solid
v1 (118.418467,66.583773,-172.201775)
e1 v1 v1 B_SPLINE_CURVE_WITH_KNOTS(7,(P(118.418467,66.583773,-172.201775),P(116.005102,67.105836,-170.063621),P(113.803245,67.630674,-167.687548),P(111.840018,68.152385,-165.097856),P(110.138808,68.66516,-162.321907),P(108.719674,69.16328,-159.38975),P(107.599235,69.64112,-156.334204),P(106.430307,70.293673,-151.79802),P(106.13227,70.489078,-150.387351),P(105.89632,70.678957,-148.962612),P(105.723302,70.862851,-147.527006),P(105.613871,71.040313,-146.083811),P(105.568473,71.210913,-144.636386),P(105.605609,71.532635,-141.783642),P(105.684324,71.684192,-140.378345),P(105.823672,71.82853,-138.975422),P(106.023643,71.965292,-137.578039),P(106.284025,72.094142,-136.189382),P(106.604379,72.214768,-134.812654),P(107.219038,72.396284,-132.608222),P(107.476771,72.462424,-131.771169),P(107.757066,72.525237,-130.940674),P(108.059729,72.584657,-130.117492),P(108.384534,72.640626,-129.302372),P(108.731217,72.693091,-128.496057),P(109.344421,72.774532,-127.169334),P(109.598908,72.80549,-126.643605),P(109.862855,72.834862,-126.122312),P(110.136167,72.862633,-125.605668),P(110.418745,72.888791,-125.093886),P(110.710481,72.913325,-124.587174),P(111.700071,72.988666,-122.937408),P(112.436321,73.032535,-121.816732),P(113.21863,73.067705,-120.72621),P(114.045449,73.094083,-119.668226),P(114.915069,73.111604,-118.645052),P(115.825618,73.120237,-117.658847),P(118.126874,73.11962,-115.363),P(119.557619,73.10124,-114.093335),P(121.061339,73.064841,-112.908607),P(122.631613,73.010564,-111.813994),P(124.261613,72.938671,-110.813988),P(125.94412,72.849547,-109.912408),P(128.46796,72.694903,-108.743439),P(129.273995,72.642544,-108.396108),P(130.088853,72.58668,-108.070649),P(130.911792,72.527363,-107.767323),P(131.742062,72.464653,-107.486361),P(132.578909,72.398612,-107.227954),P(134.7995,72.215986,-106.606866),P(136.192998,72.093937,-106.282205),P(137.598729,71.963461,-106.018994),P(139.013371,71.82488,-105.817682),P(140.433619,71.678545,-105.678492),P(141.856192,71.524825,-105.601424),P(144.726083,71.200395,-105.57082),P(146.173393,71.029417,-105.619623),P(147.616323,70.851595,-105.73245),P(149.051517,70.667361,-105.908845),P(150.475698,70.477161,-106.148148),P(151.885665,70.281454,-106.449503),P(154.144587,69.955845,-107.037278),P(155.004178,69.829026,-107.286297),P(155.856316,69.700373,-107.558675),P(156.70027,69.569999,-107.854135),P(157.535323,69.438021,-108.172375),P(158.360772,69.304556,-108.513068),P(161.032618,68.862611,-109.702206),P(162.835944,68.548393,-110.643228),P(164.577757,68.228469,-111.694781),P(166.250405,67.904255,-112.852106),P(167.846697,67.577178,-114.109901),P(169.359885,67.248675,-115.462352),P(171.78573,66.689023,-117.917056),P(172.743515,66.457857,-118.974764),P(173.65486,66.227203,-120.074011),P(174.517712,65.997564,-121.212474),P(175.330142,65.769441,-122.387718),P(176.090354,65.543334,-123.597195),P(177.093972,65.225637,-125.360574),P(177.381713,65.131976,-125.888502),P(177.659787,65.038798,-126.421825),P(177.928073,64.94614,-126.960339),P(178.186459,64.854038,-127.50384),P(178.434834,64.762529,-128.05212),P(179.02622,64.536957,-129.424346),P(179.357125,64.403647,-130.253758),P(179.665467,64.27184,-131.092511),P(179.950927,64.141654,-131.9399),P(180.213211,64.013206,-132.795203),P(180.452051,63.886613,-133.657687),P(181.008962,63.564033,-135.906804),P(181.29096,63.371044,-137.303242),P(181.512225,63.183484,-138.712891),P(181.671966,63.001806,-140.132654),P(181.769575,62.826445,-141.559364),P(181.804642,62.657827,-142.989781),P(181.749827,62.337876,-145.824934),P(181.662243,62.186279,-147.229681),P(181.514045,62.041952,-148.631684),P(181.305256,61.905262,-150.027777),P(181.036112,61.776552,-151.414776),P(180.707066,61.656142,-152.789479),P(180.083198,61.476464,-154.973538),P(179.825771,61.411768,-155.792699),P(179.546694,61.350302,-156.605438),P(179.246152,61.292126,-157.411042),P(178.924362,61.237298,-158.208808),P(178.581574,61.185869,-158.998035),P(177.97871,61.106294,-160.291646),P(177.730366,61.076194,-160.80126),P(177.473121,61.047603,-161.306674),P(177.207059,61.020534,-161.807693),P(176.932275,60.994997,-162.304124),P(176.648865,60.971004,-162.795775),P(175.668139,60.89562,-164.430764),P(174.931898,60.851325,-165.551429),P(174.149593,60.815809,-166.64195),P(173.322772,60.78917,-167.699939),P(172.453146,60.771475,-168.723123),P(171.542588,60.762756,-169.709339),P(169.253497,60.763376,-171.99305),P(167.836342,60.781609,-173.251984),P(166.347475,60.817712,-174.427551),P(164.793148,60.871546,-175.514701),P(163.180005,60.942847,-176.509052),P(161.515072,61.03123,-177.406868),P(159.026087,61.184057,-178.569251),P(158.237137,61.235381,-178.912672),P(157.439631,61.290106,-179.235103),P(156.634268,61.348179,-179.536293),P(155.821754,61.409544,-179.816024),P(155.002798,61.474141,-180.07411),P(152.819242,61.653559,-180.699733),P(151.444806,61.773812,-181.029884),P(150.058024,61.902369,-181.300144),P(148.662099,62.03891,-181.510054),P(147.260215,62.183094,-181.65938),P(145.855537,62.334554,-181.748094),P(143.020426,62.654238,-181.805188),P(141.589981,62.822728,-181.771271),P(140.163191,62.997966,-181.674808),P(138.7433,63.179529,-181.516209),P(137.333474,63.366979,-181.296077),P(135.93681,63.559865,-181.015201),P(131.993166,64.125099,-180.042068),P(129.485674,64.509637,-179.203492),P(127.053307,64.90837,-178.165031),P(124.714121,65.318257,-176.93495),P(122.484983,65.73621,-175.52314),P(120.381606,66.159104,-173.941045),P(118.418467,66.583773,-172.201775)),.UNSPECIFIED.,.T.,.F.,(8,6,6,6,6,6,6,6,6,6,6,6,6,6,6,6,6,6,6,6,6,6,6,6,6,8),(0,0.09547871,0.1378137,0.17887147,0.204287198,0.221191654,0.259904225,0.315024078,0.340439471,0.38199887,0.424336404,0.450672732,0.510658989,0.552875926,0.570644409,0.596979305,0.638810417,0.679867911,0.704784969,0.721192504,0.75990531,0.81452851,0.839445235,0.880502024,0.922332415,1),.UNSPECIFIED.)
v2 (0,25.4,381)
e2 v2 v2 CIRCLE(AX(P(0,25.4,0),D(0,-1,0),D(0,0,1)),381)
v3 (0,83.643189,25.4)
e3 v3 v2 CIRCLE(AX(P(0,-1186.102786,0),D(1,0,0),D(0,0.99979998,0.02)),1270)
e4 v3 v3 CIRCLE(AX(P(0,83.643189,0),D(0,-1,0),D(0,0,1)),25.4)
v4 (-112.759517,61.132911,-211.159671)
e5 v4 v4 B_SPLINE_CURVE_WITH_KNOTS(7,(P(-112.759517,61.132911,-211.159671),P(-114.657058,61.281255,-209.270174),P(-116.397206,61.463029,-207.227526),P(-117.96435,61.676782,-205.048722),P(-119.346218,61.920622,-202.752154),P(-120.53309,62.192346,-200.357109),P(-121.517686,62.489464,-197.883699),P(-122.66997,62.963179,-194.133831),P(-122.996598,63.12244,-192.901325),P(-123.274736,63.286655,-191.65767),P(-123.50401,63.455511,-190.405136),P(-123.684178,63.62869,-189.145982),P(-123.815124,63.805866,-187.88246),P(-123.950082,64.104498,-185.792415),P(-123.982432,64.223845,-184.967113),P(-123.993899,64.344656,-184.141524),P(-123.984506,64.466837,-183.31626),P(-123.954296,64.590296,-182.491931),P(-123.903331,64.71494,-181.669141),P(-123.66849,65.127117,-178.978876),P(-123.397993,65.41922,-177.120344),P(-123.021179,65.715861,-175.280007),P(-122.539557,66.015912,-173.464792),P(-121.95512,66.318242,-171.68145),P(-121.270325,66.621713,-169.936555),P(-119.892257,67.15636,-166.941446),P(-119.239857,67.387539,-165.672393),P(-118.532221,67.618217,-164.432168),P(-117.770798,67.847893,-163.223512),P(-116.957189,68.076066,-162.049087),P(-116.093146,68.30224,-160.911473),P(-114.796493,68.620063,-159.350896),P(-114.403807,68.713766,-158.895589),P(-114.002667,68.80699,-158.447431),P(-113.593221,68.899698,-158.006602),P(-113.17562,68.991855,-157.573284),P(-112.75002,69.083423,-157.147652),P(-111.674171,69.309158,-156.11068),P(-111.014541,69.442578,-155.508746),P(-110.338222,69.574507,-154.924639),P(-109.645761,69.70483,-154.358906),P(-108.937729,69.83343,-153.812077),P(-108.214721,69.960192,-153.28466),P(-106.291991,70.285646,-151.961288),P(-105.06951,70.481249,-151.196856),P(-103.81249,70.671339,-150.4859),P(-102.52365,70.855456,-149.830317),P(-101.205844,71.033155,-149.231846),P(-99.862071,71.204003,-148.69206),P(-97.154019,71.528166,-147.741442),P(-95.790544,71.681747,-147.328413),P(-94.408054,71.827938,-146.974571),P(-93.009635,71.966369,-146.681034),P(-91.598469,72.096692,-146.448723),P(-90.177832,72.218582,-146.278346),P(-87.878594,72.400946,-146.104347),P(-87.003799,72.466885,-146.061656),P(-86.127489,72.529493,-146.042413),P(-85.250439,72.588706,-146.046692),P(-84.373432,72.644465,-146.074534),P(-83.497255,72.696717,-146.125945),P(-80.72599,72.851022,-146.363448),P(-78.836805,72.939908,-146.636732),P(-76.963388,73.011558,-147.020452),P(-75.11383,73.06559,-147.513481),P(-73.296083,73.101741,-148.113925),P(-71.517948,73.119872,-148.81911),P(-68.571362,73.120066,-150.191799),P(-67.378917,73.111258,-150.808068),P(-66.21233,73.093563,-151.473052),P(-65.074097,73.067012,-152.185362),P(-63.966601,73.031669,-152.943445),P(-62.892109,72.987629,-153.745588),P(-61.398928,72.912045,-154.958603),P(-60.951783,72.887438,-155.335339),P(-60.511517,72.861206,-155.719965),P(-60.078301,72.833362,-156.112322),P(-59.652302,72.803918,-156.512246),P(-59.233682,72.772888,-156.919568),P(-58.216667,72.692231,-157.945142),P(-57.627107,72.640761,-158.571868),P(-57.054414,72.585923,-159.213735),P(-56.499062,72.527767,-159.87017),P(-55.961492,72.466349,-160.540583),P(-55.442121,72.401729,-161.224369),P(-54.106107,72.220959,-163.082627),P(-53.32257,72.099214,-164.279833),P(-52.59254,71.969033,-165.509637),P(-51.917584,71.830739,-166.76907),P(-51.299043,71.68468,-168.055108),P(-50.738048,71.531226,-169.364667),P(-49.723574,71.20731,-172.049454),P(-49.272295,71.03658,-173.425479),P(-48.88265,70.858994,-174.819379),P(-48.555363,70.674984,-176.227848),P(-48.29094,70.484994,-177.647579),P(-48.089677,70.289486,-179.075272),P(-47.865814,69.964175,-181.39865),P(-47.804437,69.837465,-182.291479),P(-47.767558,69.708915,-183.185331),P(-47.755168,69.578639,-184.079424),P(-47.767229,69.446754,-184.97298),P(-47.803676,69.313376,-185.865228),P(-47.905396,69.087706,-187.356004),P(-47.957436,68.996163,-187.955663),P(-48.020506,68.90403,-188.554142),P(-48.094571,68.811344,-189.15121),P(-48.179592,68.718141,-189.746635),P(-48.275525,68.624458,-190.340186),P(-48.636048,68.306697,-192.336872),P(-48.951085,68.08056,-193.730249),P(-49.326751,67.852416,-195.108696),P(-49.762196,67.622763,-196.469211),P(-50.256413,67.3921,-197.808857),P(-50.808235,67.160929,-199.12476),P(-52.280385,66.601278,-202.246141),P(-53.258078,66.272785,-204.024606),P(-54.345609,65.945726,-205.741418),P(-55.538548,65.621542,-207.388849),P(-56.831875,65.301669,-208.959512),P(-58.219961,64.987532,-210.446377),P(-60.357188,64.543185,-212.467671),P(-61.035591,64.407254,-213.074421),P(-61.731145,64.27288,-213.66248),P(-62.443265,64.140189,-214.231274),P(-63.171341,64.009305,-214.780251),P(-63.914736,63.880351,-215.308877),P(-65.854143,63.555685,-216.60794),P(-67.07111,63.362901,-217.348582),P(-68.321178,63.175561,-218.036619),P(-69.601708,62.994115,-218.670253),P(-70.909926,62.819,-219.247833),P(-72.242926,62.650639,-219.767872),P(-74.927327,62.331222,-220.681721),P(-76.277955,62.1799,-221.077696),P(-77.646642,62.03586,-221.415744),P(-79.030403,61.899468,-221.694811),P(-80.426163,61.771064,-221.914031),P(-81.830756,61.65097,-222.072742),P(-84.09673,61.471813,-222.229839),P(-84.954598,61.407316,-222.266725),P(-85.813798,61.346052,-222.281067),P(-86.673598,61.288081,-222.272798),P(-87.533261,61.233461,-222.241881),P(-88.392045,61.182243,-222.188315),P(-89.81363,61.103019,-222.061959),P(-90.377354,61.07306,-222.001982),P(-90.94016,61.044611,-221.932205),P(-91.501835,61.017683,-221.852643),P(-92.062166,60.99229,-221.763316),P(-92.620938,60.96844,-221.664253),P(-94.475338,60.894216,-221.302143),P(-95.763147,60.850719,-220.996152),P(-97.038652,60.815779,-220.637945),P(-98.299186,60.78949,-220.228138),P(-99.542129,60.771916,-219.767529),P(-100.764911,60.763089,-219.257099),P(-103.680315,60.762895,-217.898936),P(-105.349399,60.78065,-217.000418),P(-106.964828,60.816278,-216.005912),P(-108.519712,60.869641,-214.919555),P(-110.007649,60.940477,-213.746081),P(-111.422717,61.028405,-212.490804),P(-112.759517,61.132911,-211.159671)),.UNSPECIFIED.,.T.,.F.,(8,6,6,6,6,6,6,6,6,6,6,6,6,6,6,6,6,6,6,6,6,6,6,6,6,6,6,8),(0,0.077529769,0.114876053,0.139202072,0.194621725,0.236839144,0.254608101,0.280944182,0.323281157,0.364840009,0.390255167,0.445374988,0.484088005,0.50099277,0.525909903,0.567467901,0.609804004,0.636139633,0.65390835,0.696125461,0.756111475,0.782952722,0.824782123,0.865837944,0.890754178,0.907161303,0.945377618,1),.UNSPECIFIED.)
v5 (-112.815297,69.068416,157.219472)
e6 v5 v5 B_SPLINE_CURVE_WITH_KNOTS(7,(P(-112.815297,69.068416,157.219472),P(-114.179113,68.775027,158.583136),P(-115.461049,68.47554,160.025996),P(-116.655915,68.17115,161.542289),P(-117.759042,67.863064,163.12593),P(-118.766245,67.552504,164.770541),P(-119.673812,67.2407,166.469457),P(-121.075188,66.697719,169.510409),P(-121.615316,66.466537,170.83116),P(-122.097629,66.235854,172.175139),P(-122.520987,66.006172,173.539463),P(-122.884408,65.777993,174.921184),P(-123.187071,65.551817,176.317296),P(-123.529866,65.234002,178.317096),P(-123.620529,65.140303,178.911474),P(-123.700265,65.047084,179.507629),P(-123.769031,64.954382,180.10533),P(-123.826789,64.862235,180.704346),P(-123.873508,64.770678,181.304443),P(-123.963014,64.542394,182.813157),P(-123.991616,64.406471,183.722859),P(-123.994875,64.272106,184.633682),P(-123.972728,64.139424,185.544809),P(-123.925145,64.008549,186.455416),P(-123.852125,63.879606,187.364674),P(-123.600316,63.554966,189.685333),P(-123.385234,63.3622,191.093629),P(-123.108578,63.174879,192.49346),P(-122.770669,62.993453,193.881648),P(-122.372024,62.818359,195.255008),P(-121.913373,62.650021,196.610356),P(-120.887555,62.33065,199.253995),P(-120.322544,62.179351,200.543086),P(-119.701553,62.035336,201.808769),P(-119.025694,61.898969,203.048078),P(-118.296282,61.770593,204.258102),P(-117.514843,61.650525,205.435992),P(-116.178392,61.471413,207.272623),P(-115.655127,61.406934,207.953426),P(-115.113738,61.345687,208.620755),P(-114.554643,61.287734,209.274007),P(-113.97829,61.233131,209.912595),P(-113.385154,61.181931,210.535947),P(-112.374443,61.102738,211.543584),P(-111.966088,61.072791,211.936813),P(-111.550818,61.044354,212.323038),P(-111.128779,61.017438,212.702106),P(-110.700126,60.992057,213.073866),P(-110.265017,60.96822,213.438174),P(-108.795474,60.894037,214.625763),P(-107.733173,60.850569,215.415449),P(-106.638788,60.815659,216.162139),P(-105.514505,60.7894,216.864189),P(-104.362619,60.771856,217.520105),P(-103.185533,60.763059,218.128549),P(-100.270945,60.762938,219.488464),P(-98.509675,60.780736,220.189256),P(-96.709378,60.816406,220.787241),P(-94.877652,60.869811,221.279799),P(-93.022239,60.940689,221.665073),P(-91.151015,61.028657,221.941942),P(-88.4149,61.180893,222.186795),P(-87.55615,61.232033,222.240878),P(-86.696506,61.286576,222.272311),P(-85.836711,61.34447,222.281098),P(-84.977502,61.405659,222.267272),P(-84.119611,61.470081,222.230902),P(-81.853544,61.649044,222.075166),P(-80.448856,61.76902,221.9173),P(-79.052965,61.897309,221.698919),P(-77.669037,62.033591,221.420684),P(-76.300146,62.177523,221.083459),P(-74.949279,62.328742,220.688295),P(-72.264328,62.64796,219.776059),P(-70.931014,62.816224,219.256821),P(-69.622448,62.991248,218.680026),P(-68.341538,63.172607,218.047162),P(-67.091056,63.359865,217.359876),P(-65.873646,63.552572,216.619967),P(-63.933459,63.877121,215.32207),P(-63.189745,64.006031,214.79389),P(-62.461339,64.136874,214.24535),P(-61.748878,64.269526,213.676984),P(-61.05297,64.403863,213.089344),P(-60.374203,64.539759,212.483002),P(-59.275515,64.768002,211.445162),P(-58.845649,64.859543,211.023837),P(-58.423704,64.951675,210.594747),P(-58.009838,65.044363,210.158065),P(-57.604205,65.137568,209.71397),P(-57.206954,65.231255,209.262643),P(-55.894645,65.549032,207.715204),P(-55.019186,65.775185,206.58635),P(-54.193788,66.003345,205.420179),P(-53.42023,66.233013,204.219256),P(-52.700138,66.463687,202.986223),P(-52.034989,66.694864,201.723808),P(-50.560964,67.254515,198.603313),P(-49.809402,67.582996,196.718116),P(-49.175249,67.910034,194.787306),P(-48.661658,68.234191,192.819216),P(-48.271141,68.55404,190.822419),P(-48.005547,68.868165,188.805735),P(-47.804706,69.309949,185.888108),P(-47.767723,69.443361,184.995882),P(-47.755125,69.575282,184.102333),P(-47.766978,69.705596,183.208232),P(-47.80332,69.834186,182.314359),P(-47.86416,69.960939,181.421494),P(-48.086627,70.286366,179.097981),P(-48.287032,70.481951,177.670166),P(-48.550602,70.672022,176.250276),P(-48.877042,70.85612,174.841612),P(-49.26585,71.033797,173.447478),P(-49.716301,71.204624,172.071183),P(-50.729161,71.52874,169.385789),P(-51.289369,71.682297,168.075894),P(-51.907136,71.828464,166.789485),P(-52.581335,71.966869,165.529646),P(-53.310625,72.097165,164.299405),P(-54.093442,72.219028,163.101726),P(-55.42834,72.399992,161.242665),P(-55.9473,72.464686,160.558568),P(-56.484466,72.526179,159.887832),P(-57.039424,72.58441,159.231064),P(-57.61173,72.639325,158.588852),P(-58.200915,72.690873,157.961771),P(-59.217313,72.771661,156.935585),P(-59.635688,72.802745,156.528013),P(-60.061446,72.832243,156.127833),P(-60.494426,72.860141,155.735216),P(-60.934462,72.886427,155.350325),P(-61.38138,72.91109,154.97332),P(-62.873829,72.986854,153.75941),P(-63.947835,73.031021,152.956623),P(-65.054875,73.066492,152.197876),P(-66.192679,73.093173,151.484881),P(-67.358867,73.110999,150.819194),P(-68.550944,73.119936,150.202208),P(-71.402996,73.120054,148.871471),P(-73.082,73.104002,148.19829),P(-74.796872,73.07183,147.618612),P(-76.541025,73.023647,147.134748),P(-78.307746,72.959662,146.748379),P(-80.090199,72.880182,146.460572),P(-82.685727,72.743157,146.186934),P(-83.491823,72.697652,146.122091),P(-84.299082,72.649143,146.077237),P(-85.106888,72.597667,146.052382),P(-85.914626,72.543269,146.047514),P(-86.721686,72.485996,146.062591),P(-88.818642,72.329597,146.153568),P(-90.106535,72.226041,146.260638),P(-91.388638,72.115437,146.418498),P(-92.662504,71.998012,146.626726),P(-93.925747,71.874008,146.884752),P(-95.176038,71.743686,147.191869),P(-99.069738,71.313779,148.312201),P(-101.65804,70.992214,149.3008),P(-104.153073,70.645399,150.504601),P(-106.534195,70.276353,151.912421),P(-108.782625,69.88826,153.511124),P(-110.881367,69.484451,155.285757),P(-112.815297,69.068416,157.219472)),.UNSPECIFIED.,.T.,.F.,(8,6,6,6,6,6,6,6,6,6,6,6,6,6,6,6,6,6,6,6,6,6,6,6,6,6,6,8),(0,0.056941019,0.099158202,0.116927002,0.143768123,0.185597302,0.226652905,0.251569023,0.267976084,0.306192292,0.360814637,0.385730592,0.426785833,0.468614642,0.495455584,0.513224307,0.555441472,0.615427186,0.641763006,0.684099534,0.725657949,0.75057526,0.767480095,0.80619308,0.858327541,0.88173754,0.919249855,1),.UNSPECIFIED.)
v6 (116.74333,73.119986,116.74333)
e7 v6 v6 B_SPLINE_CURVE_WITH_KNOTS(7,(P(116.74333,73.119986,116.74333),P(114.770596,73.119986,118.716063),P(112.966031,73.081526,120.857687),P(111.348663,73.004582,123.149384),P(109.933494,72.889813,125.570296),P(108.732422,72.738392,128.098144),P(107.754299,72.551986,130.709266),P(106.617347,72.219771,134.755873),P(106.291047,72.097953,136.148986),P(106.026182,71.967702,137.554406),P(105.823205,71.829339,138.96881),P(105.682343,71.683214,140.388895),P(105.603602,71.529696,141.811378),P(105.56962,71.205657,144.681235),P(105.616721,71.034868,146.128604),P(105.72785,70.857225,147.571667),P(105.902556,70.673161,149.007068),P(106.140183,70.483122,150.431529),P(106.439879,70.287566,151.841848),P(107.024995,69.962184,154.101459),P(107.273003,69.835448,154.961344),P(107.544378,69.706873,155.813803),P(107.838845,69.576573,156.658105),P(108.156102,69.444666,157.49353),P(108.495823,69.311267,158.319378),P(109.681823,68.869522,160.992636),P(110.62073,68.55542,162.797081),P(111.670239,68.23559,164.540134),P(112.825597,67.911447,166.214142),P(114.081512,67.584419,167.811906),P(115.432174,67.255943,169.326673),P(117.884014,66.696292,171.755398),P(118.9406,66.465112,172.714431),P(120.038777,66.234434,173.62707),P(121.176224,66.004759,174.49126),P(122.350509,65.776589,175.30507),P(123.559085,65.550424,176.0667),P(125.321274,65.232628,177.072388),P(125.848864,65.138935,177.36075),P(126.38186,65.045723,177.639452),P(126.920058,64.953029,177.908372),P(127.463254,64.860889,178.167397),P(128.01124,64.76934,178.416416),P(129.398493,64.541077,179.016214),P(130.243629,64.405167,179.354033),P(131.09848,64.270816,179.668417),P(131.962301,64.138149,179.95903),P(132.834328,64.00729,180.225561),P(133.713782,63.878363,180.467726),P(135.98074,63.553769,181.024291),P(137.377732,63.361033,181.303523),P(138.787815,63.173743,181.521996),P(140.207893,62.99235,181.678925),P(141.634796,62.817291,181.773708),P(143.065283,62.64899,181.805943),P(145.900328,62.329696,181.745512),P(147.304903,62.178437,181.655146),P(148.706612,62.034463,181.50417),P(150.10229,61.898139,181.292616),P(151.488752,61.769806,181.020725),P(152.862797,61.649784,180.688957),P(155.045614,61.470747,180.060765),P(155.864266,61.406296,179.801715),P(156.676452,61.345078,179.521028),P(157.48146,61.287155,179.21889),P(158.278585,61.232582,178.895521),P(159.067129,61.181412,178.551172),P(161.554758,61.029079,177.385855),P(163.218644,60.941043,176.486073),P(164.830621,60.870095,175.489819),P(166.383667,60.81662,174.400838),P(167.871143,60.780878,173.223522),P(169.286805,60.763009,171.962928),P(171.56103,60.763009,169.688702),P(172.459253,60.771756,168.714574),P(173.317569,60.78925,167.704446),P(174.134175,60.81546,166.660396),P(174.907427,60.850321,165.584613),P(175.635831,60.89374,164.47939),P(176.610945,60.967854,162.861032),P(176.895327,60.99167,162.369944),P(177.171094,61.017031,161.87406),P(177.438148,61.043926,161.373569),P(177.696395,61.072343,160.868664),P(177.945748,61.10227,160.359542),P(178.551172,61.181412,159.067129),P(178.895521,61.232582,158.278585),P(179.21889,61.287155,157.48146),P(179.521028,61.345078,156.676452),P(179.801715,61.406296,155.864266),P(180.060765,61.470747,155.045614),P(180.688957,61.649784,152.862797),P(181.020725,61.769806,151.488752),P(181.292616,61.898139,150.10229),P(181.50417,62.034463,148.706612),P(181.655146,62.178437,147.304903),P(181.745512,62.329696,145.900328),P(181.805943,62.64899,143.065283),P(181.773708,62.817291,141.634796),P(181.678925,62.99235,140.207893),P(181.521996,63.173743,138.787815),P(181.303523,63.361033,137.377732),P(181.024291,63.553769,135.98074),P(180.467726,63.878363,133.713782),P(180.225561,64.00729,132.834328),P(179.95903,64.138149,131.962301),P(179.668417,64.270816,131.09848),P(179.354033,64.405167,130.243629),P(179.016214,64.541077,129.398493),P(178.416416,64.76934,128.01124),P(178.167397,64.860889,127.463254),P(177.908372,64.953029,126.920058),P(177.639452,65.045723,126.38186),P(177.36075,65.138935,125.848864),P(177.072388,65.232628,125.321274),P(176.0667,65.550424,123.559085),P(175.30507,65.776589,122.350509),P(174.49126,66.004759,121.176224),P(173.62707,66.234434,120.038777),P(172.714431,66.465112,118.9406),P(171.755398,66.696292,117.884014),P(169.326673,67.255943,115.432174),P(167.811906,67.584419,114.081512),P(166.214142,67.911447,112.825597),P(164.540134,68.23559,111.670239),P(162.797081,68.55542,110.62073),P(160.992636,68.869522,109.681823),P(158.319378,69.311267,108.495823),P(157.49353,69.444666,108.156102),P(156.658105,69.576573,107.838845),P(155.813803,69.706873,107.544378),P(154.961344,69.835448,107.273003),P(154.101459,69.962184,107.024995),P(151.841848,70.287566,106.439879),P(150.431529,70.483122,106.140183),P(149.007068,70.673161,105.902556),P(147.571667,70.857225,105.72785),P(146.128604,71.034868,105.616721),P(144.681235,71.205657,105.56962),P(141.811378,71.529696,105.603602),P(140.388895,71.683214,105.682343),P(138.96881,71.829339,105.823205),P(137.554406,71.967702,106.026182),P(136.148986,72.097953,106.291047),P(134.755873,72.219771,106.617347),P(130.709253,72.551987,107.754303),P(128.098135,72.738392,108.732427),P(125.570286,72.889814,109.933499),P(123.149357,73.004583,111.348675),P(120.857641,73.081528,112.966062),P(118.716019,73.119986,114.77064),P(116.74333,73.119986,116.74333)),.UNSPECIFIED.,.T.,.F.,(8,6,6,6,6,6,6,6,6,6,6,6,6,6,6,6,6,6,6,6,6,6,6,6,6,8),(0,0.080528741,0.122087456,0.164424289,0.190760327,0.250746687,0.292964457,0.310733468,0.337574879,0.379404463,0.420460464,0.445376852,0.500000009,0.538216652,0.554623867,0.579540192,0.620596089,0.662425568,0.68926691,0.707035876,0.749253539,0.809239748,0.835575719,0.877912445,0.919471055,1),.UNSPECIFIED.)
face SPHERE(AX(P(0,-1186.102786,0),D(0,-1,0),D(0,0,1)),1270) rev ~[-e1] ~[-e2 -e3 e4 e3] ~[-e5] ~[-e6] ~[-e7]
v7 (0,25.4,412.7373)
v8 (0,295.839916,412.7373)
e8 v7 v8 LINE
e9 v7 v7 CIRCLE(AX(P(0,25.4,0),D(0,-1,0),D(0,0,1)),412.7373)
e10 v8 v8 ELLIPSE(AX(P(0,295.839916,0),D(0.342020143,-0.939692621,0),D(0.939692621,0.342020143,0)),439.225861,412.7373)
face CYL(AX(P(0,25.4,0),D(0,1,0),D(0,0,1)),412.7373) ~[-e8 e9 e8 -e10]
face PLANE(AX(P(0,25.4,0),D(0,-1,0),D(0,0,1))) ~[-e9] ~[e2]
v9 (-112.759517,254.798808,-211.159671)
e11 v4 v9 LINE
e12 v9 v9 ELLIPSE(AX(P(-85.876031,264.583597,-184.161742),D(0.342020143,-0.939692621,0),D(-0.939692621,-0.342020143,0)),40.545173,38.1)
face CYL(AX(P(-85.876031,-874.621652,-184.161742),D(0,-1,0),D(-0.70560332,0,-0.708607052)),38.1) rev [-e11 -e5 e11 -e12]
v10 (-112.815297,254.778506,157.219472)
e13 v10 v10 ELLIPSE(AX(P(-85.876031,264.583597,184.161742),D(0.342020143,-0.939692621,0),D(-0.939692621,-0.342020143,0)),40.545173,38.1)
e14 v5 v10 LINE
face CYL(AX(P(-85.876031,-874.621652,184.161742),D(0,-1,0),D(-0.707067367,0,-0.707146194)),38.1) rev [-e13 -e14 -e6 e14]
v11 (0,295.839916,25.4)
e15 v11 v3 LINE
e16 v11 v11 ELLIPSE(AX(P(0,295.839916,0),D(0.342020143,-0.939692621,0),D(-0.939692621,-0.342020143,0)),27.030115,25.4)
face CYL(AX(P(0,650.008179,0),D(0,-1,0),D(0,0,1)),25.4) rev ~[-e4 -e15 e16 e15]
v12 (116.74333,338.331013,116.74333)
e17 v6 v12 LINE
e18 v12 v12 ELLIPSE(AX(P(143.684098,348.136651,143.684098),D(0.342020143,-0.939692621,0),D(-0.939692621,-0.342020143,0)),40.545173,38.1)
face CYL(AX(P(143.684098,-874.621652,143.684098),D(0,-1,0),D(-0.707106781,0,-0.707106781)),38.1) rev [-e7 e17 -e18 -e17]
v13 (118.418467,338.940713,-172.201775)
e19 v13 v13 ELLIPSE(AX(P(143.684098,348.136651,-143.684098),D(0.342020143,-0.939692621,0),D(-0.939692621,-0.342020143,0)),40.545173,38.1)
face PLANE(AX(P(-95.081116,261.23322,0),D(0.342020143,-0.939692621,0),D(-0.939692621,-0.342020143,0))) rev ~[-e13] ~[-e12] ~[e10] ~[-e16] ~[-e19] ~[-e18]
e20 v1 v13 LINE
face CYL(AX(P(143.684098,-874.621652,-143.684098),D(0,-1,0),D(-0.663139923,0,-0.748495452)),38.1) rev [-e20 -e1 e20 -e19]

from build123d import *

# Parameters (mm, degrees)
CUT_EXTRUDE1_DEPTH      = 874.621652083
CUT_EXTRUDE1_DEPTH_BACK = 874.621652083
SKETCH6_R               = 38.1
SKETCH9_W               = 1605.930086896
SKETCH9_H               = 1331.723127606
CUT_EXTRUDE8_DEPTH      = 762.168569892


with BuildPart() as part:
    # Sketch4 → Revolve3 (revolve)
    with BuildSketch(Plane.XY):
        with BuildLine():
            Line((25.4, 650.00817936), (25.4, 83.643188795))
            ThreePointArc((25.4, 83.643188795), (205.276173143, 67.197534451), (381, 25.4))
            Line((381, 25.4), (412.7373, 25.4))
            Line((412.7373, 25.4), (412.7373, 488.95))
            Line((412.7373, 488.95), (411.1498, 488.95))
            Line((411.1498, 488.95), (411.1498, 514.35))
            ThreePointArc((411.1498, 514.35), (404.683813004, 537.626492136), (387.141395745, 554.23575674))
            ThreePointArc((387.141395745, 554.23575674), (211.762891066, 622.866495309), (25.4, 650.00817936))
        make_face()
    revolve(axis=Axis((0, 588.703209944, 0), (0, -1, 0)))

    # Sketch6 → Cut-Extrude1 (cut, two sides: drawn at the far end of the back side and taken through both)
    with BuildSketch(Plane(origin=(0, 0, 0), x_dir=(1, 0, 0), z_dir=(0, 1, 0)).offset(-CUT_EXTRUDE1_DEPTH_BACK)):
        with Locations((143.684097937, 143.684097937)):
            Circle(SKETCH6_R)
        with Locations((-85.876030786, 184.161742326)):
            Circle(SKETCH6_R)
        with Locations((-85.876030786, -184.161742326)):
            Circle(SKETCH6_R)
        with Locations((143.684097937, -143.684097937)):
            Circle(SKETCH6_R)
    extrude(amount=CUT_EXTRUDE1_DEPTH + CUT_EXTRUDE1_DEPTH_BACK, mode=Mode.SUBTRACT)

    # Sketch9 → Cut-Extrude8 (cut, through all)
    with BuildSketch(Plane(origin=(-95.081116315, 261.233220092, 0), x_dir=(-0.9396926207859104, -0.34202014332566316, 0), z_dir=(0.34202014332566316, -0.9396926207859104, 0))):
        Rectangle(SKETCH9_W, SKETCH9_H)
    extrude(amount=-CUT_EXTRUDE8_DEPTH, mode=Mode.SUBTRACT)


solid = part.part
